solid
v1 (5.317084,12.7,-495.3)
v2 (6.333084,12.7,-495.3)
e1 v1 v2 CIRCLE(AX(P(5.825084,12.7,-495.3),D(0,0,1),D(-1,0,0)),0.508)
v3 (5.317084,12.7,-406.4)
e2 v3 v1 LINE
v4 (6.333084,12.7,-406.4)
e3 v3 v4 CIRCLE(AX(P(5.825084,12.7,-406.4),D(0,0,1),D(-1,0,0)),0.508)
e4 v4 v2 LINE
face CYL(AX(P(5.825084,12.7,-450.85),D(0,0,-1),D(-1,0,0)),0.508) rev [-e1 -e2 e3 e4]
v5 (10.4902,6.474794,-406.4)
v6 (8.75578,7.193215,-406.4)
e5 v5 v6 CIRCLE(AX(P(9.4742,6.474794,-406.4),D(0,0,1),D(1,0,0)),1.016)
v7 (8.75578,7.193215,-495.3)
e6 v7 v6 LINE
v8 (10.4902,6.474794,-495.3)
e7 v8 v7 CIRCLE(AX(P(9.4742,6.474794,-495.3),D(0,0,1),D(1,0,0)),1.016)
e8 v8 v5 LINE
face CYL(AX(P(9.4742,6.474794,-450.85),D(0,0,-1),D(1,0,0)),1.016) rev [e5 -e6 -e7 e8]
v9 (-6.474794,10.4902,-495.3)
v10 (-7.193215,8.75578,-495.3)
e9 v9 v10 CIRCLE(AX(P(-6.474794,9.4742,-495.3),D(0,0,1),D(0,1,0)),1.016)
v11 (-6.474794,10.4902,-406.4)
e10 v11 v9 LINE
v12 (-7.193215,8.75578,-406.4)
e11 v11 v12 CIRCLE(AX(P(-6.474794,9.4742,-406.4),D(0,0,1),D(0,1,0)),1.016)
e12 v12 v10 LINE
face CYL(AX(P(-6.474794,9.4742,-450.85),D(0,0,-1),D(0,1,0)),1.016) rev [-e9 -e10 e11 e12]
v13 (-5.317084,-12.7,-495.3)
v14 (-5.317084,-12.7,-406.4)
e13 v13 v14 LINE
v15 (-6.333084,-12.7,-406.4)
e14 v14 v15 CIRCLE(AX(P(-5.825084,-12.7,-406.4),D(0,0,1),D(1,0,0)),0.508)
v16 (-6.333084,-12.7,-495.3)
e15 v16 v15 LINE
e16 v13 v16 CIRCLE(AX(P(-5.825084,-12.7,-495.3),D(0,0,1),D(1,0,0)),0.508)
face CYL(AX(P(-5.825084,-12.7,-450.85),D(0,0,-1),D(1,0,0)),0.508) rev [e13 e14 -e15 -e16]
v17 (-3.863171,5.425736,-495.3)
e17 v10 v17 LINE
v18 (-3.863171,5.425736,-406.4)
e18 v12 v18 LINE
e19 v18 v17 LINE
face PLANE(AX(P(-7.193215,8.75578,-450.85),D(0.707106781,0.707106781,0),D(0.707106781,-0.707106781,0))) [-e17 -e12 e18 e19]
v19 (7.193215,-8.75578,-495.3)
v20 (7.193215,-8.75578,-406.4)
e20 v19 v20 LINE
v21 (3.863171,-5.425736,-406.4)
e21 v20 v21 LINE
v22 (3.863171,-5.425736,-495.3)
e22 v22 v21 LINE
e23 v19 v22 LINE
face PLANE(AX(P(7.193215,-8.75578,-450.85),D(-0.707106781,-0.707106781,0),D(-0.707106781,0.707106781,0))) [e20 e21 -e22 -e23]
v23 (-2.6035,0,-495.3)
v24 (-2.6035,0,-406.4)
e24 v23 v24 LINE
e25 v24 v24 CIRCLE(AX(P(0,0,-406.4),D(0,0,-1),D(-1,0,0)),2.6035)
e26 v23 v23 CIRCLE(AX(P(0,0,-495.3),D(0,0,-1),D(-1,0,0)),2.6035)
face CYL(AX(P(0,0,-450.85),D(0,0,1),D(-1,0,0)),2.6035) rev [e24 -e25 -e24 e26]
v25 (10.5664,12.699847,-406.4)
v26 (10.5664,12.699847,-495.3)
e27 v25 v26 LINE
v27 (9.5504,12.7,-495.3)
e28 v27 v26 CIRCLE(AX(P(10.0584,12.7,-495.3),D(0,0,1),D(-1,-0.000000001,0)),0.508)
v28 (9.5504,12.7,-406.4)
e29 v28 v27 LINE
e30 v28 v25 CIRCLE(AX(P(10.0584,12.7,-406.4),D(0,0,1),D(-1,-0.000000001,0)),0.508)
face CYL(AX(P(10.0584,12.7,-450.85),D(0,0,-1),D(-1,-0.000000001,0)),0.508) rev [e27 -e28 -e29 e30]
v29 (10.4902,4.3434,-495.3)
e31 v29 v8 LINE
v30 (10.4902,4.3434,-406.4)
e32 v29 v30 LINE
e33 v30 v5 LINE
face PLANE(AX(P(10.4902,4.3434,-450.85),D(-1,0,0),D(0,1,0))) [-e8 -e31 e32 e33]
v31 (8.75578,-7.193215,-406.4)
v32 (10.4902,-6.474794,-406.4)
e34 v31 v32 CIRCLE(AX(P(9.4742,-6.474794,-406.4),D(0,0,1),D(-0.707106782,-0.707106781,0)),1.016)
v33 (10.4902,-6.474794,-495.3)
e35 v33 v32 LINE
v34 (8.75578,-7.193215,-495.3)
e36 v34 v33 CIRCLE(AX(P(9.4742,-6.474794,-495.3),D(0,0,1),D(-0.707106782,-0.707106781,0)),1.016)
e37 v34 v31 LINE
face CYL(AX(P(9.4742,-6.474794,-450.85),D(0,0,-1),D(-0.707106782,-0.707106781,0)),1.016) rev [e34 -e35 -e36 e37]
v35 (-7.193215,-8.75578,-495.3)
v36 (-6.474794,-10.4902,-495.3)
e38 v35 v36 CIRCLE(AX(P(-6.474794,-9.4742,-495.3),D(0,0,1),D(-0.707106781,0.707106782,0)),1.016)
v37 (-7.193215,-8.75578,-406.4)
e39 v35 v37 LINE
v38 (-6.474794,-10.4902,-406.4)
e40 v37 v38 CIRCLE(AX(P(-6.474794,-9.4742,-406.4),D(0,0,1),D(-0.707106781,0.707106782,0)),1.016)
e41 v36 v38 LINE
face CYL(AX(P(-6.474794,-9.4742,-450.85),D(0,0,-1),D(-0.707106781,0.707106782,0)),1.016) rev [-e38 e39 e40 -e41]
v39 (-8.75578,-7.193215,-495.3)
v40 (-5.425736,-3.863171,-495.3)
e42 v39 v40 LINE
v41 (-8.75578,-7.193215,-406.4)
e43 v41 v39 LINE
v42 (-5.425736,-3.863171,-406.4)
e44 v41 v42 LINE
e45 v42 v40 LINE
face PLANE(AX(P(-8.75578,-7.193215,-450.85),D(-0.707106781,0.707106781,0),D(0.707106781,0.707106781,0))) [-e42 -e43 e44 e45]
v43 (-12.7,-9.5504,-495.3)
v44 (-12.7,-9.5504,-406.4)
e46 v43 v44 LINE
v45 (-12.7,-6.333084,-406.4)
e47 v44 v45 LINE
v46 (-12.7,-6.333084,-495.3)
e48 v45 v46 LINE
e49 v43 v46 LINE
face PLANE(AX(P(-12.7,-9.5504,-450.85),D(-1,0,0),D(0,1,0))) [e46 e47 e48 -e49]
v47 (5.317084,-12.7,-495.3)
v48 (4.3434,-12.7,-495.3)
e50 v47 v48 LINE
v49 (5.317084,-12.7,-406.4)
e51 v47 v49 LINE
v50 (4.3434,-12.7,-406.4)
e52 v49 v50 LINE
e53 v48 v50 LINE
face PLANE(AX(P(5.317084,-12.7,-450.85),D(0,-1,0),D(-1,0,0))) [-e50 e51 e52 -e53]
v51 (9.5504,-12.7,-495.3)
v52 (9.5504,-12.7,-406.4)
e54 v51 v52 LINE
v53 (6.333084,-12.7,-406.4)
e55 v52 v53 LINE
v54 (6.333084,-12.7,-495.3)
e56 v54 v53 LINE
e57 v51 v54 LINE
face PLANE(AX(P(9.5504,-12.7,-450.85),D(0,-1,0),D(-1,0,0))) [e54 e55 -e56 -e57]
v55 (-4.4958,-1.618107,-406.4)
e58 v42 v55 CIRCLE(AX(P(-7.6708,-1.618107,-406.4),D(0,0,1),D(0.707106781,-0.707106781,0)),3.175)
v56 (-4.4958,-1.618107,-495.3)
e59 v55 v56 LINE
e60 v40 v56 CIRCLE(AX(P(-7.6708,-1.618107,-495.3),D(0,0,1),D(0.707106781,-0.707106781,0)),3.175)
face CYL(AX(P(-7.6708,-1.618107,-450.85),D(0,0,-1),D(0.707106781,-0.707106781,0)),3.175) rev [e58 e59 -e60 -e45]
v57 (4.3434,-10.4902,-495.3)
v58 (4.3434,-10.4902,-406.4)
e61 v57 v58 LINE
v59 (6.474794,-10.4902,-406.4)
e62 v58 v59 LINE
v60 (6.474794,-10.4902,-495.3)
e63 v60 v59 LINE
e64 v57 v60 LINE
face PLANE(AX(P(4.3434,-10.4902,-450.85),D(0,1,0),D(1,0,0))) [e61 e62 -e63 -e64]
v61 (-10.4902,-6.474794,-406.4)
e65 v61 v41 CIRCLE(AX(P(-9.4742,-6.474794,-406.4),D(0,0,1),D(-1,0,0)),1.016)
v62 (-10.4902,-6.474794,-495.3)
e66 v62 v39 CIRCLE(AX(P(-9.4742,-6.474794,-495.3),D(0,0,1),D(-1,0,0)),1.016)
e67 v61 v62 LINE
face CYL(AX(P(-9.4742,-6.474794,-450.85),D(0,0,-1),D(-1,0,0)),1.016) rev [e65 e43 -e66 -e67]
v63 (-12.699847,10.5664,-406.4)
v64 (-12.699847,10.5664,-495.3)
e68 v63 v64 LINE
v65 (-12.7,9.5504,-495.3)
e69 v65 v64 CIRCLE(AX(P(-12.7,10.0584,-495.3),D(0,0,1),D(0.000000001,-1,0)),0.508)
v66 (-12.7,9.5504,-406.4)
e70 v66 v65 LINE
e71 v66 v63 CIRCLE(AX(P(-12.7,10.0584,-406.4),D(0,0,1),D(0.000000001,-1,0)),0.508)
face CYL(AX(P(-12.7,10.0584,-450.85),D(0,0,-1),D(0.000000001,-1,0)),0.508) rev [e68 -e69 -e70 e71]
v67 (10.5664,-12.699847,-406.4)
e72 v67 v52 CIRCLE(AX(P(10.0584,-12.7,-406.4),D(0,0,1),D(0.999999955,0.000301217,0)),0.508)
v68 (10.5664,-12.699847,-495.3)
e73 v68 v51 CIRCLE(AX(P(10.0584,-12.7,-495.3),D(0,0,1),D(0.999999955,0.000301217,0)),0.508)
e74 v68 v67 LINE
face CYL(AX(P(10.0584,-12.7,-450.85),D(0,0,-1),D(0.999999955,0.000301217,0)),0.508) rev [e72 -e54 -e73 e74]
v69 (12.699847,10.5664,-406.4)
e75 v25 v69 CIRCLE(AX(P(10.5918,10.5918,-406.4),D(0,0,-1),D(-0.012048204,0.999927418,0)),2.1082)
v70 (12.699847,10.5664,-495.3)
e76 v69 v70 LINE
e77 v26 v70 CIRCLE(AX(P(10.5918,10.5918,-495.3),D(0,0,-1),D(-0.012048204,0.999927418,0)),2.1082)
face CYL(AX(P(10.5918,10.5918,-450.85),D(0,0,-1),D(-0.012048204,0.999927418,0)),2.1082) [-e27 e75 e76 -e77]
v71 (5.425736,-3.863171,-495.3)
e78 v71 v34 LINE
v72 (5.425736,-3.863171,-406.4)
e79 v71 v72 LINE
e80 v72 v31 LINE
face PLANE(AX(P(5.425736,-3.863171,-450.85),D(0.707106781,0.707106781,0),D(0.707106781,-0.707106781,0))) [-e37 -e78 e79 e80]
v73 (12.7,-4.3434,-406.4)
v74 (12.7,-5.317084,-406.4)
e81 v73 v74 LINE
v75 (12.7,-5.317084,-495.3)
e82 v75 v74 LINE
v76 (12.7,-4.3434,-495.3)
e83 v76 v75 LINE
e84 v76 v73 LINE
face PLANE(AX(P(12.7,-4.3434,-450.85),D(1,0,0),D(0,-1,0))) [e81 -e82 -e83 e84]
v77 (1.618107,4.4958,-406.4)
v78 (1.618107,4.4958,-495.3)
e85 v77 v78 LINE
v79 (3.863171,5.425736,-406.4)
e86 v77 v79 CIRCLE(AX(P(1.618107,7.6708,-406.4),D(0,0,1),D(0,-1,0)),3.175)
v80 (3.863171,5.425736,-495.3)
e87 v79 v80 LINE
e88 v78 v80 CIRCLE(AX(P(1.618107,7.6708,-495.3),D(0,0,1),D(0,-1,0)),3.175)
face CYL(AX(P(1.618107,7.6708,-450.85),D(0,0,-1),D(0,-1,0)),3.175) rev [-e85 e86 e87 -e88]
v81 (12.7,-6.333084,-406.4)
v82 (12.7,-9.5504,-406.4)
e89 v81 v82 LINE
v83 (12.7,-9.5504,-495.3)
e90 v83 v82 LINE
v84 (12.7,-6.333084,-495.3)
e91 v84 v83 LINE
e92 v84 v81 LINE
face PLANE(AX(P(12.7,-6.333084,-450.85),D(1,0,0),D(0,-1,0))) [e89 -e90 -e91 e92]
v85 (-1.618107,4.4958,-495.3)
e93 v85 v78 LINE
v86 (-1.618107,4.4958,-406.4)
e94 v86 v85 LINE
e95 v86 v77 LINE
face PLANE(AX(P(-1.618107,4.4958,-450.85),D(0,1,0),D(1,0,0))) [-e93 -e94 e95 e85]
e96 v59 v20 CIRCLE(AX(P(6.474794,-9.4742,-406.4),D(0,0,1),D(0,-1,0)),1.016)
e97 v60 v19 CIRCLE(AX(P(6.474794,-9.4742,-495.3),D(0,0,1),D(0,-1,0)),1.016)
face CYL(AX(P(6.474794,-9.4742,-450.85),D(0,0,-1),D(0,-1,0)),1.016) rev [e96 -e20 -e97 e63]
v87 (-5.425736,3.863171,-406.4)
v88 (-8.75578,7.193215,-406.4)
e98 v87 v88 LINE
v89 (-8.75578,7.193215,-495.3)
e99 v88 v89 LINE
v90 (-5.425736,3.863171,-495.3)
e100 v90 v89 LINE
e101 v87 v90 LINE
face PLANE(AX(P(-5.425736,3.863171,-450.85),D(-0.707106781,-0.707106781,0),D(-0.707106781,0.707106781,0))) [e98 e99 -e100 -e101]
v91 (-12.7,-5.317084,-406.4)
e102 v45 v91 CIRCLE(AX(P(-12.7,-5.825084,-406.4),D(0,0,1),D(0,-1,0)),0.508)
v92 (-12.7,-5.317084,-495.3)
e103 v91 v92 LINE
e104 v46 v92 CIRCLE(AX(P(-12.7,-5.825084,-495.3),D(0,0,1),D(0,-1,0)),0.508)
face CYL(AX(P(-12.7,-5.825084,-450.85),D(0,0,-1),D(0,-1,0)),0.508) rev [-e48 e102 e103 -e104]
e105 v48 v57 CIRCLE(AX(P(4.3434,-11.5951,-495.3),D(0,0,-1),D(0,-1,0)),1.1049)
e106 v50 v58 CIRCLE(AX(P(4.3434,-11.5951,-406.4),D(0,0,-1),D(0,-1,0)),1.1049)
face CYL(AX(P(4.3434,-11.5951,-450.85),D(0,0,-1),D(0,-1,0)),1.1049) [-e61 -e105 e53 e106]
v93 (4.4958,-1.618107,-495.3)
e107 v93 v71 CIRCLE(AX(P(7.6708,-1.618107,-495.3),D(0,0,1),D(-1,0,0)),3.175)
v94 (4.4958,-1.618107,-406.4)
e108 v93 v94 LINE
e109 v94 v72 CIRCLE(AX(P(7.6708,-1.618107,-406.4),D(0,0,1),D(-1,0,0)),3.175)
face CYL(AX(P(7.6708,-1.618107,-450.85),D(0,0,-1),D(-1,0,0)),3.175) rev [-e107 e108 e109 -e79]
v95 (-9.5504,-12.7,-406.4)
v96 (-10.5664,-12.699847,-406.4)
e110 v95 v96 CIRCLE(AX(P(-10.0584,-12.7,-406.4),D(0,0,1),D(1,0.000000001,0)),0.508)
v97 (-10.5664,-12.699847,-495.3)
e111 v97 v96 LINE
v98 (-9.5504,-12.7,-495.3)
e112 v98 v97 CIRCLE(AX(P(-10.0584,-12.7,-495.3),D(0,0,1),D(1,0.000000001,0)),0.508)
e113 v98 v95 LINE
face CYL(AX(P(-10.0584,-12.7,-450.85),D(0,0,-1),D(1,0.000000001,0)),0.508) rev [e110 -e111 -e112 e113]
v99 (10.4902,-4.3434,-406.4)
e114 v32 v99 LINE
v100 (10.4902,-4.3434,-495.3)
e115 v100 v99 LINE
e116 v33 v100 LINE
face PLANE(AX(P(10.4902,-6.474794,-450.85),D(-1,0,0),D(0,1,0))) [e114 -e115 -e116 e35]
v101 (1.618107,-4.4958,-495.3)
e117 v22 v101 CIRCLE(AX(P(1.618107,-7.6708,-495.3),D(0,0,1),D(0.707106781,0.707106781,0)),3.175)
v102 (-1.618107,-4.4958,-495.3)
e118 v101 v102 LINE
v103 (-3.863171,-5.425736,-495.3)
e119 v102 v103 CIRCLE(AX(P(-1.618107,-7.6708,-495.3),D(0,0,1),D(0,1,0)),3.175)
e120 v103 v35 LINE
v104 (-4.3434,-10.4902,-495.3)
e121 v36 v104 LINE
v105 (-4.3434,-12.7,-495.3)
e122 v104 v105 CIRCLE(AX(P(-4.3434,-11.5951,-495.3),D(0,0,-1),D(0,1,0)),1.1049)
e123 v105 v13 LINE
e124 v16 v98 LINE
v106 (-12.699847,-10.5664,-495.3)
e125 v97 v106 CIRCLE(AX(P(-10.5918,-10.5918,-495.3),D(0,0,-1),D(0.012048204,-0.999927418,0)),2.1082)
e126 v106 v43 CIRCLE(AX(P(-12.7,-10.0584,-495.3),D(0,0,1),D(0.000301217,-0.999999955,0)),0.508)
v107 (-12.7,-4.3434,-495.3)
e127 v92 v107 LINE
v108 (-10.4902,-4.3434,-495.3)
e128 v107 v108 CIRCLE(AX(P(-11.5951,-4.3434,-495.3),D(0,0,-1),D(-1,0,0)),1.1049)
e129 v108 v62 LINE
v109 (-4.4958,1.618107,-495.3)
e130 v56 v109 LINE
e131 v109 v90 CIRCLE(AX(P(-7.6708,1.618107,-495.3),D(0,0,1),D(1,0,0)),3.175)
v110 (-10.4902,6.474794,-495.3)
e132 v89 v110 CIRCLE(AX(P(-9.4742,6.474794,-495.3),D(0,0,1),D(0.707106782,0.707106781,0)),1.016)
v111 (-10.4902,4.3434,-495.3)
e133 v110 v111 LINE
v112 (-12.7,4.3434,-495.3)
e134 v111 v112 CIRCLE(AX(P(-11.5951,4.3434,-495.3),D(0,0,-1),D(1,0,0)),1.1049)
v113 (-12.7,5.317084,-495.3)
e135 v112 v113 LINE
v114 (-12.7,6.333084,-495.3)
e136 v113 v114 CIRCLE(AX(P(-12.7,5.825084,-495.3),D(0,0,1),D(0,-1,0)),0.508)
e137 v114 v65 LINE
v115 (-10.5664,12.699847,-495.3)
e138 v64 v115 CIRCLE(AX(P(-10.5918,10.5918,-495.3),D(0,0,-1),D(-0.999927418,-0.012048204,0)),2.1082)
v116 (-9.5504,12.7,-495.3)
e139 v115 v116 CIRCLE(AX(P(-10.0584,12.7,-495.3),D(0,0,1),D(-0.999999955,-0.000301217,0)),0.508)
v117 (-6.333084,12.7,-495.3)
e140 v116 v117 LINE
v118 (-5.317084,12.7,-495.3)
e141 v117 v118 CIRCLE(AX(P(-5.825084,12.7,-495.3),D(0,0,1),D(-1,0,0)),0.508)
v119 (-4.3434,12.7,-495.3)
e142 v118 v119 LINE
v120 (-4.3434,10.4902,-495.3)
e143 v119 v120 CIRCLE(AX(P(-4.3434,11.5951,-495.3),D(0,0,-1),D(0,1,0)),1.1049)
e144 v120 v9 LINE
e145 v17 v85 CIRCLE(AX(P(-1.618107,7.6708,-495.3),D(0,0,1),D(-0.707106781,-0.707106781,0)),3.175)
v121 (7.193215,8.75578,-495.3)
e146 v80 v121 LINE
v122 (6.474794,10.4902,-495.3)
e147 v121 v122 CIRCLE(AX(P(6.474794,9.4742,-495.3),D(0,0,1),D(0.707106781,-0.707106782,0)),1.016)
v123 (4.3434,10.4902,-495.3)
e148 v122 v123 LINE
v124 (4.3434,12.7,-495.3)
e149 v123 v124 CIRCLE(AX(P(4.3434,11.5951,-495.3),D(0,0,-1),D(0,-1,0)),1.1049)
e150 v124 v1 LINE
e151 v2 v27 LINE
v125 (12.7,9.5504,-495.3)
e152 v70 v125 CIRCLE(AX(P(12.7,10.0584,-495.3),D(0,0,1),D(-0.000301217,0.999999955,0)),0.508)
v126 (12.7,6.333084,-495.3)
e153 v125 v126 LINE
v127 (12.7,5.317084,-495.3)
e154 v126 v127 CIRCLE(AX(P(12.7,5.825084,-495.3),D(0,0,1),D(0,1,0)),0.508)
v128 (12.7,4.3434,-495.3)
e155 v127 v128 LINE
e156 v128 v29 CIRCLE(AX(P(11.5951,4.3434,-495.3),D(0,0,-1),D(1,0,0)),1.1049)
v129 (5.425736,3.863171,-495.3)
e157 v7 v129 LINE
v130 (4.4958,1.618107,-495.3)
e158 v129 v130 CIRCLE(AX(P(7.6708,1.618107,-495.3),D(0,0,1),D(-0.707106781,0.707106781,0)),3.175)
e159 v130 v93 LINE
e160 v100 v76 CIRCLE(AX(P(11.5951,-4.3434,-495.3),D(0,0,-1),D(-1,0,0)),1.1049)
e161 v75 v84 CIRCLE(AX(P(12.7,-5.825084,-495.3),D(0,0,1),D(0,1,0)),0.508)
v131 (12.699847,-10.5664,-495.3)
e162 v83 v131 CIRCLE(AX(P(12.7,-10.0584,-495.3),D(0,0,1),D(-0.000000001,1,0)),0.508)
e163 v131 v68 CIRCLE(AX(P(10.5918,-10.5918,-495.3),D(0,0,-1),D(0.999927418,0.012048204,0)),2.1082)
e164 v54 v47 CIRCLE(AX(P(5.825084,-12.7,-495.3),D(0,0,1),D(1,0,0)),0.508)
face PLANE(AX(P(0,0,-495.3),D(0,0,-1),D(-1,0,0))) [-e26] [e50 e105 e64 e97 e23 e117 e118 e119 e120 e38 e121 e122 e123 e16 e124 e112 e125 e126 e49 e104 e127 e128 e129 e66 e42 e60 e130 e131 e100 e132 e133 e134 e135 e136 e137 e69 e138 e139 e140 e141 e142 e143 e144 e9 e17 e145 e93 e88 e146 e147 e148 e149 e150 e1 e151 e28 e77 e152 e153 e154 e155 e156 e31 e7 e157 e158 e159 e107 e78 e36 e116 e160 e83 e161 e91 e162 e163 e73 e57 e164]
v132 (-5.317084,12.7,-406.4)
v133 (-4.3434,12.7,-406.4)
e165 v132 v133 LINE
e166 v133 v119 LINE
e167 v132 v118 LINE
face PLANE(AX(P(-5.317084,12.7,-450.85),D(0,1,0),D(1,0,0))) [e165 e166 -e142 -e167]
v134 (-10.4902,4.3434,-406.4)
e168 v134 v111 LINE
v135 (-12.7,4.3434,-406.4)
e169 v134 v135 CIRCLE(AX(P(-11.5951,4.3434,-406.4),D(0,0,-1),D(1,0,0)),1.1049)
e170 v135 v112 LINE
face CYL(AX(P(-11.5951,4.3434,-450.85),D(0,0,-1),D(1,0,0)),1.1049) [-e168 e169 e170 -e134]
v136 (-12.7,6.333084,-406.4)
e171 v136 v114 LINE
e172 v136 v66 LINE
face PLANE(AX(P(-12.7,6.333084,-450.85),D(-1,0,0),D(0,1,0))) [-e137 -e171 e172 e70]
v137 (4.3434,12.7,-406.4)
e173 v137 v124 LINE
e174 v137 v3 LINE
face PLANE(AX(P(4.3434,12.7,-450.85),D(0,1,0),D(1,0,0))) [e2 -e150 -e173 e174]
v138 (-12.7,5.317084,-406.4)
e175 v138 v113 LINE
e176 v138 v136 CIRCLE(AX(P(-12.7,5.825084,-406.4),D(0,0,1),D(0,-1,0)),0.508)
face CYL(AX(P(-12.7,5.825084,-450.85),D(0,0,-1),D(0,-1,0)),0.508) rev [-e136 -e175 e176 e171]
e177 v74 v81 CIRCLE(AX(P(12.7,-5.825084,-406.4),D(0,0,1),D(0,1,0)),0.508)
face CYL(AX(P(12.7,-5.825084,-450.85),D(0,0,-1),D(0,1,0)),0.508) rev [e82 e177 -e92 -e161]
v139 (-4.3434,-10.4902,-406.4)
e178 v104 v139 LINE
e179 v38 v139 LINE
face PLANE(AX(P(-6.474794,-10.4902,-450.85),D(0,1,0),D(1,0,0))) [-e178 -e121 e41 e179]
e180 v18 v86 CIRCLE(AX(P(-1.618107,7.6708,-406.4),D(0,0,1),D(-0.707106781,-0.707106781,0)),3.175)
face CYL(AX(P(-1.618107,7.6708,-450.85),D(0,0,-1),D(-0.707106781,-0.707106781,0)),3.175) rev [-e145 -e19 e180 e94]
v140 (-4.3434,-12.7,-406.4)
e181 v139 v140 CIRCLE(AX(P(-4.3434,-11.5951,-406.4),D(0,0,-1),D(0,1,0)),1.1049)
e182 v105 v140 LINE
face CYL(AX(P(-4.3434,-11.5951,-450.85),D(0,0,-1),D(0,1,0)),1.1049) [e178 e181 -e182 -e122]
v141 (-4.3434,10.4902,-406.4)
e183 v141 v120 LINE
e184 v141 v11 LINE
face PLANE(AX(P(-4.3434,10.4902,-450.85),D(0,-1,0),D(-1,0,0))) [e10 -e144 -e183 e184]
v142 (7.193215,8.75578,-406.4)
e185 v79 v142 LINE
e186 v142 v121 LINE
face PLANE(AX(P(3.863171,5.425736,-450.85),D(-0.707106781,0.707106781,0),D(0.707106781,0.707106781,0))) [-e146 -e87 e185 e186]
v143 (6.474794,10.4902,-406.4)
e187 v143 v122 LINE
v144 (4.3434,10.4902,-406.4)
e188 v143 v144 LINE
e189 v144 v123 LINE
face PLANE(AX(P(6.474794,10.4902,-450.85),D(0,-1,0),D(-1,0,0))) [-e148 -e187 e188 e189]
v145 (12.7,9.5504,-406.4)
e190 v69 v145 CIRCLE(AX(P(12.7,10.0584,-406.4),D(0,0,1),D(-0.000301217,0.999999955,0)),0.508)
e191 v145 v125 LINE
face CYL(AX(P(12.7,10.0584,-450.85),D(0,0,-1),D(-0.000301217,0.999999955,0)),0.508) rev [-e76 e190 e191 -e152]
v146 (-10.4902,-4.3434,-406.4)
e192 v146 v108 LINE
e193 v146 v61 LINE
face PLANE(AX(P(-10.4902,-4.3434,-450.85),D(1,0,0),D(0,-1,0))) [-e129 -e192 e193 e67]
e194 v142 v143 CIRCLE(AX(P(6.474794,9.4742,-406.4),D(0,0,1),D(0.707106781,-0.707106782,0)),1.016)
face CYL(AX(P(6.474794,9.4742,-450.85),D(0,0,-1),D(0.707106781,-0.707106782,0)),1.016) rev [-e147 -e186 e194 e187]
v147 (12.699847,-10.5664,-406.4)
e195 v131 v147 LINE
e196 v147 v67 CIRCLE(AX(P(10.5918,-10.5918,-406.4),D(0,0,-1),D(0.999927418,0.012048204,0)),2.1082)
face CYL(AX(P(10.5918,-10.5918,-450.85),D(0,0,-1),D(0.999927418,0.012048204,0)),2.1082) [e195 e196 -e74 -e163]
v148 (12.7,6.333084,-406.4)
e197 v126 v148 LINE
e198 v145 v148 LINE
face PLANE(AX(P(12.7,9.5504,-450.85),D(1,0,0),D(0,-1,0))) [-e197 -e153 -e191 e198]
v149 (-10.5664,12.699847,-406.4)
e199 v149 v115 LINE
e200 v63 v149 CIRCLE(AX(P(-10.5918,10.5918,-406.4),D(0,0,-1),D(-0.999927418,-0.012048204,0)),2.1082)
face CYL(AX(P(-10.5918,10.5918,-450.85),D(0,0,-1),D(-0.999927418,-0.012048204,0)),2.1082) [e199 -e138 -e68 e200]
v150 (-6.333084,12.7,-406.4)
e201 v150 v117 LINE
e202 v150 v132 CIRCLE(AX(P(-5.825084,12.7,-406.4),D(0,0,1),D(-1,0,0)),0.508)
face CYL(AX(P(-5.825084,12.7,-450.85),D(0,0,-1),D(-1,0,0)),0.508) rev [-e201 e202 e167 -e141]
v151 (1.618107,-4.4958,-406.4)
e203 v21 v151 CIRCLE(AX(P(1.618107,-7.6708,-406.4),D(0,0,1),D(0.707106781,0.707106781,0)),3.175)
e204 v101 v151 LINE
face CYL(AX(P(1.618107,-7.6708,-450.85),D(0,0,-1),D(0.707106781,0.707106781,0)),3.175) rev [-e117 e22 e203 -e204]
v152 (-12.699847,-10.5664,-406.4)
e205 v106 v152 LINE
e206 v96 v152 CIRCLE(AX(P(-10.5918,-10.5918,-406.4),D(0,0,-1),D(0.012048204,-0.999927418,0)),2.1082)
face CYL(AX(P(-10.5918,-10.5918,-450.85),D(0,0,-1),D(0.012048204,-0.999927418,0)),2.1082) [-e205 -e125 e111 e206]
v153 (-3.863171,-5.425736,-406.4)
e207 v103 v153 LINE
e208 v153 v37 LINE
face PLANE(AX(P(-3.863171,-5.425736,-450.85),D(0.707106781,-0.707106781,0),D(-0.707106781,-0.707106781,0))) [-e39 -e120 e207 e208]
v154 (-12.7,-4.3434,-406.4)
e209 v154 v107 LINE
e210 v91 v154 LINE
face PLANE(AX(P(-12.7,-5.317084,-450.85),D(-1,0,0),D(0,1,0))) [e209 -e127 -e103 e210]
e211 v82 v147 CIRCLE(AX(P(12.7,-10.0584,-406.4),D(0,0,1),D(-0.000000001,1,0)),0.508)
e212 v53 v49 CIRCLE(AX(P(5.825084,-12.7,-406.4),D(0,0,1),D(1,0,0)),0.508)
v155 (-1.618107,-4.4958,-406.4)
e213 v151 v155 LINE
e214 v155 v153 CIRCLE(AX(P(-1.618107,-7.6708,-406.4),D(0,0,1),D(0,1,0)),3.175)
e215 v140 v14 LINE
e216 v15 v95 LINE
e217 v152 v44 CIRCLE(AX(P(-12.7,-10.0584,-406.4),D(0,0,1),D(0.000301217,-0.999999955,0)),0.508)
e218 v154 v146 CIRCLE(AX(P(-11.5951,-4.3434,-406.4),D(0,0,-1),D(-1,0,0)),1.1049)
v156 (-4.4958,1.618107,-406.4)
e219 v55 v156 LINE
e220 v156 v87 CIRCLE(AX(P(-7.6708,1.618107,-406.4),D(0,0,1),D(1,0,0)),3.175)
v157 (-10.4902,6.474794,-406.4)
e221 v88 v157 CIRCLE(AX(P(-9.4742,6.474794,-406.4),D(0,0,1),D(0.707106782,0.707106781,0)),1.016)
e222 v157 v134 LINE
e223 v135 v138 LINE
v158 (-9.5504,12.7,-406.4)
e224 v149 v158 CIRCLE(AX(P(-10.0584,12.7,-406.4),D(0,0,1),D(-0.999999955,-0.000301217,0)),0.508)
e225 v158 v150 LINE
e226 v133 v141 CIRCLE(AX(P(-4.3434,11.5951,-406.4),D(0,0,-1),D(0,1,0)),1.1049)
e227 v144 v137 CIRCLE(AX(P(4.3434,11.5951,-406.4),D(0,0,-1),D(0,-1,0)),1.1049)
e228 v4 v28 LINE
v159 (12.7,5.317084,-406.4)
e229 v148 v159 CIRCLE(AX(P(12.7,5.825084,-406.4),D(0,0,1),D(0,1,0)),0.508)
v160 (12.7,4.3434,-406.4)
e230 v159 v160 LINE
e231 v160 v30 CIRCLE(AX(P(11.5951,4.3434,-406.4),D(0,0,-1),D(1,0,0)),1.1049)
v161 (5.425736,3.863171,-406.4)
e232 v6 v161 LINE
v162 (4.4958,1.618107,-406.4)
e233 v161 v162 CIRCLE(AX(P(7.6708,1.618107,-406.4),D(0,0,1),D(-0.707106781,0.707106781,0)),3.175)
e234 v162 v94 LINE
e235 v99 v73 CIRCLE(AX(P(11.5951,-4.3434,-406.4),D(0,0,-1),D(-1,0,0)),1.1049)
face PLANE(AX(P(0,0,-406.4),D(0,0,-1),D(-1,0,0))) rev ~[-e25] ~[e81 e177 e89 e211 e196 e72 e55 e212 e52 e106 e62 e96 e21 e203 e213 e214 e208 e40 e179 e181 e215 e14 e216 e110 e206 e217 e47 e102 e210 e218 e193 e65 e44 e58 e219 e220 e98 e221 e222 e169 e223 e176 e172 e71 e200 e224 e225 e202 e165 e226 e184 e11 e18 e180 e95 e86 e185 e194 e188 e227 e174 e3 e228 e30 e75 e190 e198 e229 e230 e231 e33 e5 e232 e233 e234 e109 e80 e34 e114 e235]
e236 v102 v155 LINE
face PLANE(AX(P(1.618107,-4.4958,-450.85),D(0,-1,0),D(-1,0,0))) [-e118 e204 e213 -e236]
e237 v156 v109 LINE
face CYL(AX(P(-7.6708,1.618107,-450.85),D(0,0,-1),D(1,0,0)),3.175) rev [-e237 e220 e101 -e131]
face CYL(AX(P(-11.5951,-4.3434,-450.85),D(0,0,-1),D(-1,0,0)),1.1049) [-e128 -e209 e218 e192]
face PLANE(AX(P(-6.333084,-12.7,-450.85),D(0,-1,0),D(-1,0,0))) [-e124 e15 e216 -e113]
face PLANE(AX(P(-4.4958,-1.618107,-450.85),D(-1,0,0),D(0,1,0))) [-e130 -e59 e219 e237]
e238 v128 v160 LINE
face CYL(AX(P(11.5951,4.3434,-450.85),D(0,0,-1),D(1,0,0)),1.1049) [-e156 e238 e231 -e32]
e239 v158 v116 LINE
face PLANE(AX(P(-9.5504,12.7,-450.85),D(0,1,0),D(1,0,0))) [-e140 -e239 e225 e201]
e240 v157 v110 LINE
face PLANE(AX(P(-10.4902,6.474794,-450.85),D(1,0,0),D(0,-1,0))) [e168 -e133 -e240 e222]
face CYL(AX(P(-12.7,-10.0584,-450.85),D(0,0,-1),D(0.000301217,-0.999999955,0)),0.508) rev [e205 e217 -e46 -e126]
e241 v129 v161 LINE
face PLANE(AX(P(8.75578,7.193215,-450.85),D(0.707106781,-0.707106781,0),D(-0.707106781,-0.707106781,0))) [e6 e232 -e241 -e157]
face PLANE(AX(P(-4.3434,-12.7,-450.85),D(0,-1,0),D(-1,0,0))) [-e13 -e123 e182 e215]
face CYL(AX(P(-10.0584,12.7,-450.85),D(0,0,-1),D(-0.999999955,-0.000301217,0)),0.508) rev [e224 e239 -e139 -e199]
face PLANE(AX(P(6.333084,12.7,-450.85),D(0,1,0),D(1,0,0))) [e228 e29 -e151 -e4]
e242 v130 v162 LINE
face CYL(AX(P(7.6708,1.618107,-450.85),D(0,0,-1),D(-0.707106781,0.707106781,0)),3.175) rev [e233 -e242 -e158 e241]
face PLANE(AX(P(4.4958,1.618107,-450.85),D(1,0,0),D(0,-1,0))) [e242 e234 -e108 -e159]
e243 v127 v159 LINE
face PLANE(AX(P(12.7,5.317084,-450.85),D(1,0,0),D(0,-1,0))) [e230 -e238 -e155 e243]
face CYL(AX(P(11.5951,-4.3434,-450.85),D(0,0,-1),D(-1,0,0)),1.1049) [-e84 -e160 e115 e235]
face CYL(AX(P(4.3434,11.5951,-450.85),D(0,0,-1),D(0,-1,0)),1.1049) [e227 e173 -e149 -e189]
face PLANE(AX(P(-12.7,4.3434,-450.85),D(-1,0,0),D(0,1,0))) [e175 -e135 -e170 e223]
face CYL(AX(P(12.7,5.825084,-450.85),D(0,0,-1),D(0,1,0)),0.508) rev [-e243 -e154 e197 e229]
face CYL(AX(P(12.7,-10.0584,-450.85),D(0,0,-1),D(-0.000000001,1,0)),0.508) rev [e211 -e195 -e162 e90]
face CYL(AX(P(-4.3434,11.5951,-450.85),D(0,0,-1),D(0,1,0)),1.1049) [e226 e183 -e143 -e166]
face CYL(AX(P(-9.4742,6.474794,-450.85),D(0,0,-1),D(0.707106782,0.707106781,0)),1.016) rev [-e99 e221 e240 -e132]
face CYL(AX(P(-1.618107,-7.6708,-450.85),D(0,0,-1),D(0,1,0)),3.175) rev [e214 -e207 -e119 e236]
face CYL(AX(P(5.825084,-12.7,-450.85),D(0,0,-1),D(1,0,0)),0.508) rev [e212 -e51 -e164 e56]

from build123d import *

# Parameters (mm, degrees)
SKETCH1_R           = 2.6035
BOSS_EXTRUDE1_DEPTH = 44.45


with BuildPart() as part:
    # Sketch1 → Boss-Extrude1 (new body, symmetric)
    with BuildSketch(Plane(origin=(0, 0, -450.85), x_dir=(-1, 0, 0), z_dir=(0, 0, -1))):
        with BuildLine():
            Line((12.7, -9.5504), (12.7, -6.3330836))
            ThreePointArc((12.7, -6.3330836), (12.192, -5.8250836), (12.7, -5.3170836))
            Line((12.7, -5.3170836), (12.7, -4.3434))
            ThreePointArc((12.7, -4.3434), (11.5951, -3.2385), (10.4902, -4.3434))
            Line((10.4902, -4.3434), (10.4902, -6.474794456))
            ThreePointArc((10.4902, -6.474794456), (9.863006367, -7.413456061), (8.75577951, -7.193214945))
            Line((8.75577951, -7.193214945), (5.42573597, -3.863171405))
            ThreePointArc((5.42573597, -3.863171405), (4.737482484, -2.833127272), (4.4958, -1.618107374))
            Line((4.4958, -1.618107374), (4.4958, 1.618107374))
            ThreePointArc((4.4958, 1.618107374), (4.737482484, 2.833127272), (5.42573597, 3.863171405))
            Line((5.42573597, 3.863171405), (8.75577951, 7.193214945))
            ThreePointArc((8.75577951, 7.193214945), (9.863006367, 7.413456061), (10.4902, 6.474794456))
            Line((10.4902, 6.474794456), (10.4902, 4.343399971))
            ThreePointArc((10.4902, 4.343399971), (11.5951, 3.238499971), (12.7, 4.343399971))
            Line((12.7, 4.343399971), (12.7, 5.3170836))
            ThreePointArc((12.7, 5.3170836), (12.192, 5.8250836), (12.7, 6.3330836))
            Line((12.7, 6.3330836), (12.7, 9.5504))
            ThreePointArc((12.7, 9.5504), (12.192000006, 10.058323491), (12.699846982, 10.566399977))
            ThreePointArc((12.699846982, 10.566399977), (12.082522516, 12.082522516), (10.566399977, 12.699846982))
            ThreePointArc((10.566399977, 12.699846982), (10.058323491, 12.192000006), (9.5504, 12.7))
            Line((9.5504, 12.7), (6.3330836, 12.7))
            ThreePointArc((6.3330836, 12.7), (5.8250836, 12.192), (5.3170836, 12.7))
            Line((5.3170836, 12.7), (4.3434, 12.7))
            ThreePointArc((4.3434, 12.7), (3.2385, 11.5951), (4.3434, 10.4902))
            Line((4.3434, 10.4902), (6.474794456, 10.4902))
            ThreePointArc((6.474794456, 10.4902), (7.413456061, 9.863006367), (7.193214945, 8.75577951))
            Line((7.193214945, 8.75577951), (3.863171405, 5.42573597))
            ThreePointArc((3.863171405, 5.42573597), (2.833127272, 4.737482484), (1.618107374, 4.4958))
            Line((1.618107374, 4.4958), (-1.618107374, 4.4958))
            ThreePointArc((-1.618107374, 4.4958), (-2.833127272, 4.737482484), (-3.863171405, 5.42573597))
            Line((-3.863171405, 5.42573597), (-7.193214945, 8.75577951))
            ThreePointArc((-7.193214945, 8.75577951), (-7.413456061, 9.863006367), (-6.474794456, 10.4902))
            Line((-6.474794456, 10.4902), (-4.343399971, 10.4902))
            ThreePointArc((-4.343399971, 10.4902), (-3.238499971, 11.5951), (-4.343399971, 12.7))
            Line((-4.343399971, 12.7), (-5.3170836, 12.7))
            ThreePointArc((-5.3170836, 12.7), (-5.8250836, 12.192), (-6.3330836, 12.7))
            Line((-6.3330836, 12.7), (-9.5504, 12.7))
            ThreePointArc((-9.5504, 12.7), (-10.058323491, 12.192000006), (-10.566399977, 12.699846982))
            ThreePointArc((-10.566399977, 12.699846982), (-12.082522516, 12.082522516), (-12.699846982, 10.566399977))
            ThreePointArc((-12.699846982, 10.566399977), (-12.192000006, 10.058323491), (-12.7, 9.5504))
            Line((-12.7, 9.5504), (-12.7, 6.3330836))
            ThreePointArc((-12.7, 6.3330836), (-12.192, 5.8250836), (-12.7, 5.3170836))
            Line((-12.7, 5.3170836), (-12.7, 4.3434))
            ThreePointArc((-12.7, 4.3434), (-11.5951, 3.2385), (-10.4902, 4.3434))
            Line((-10.4902, 4.3434), (-10.4902, 6.474794456))
            ThreePointArc((-10.4902, 6.474794456), (-9.863006367, 7.413456061), (-8.75577951, 7.193214945))
            Line((-8.75577951, 7.193214945), (-5.42573597, 3.863171405))
            ThreePointArc((-5.42573597, 3.863171405), (-4.737482484, 2.833127272), (-4.4958, 1.618107374))
            Line((-4.4958, 1.618107374), (-4.4958, -1.618107374))
            ThreePointArc((-4.4958, -1.618107374), (-4.737482484, -2.833127272), (-5.42573597, -3.863171405))
            Line((-5.42573597, -3.863171405), (-8.75577951, -7.193214945))
            ThreePointArc((-8.75577951, -7.193214945), (-9.863006367, -7.413456061), (-10.4902, -6.474794456))
            Line((-10.4902, -6.474794456), (-10.4902, -4.343399971))
            ThreePointArc((-10.4902, -4.343399971), (-11.5951, -3.238499971), (-12.7, -4.343399971))
            Line((-12.7, -4.343399971), (-12.7, -5.3170836))
            ThreePointArc((-12.7, -5.3170836), (-12.192, -5.8250836), (-12.7, -6.3330836))
            Line((-12.7, -6.3330836), (-12.7, -9.5504))
            ThreePointArc((-12.7, -9.5504), (-12.192000006, -10.058323491), (-12.699846982, -10.566399977))
            ThreePointArc((-12.699846982, -10.566399977), (-12.082522516, -12.082522516), (-10.566399977, -12.699846982))
            ThreePointArc((-10.566399977, -12.699846982), (-10.058323491, -12.192000006), (-9.5504, -12.7))
            Line((-9.5504, -12.7), (-6.3330836, -12.7))
            ThreePointArc((-6.3330836, -12.7), (-5.8250836, -12.192), (-5.3170836, -12.7))
            Line((-5.3170836, -12.7), (-4.3434, -12.7))
            ThreePointArc((-4.3434, -12.7), (-3.2385, -11.5951), (-4.3434, -10.4902))
            Line((-4.3434, -10.4902), (-6.474794456, -10.4902))
            ThreePointArc((-6.474794456, -10.4902), (-7.413456061, -9.863006367), (-7.193214945, -8.75577951))
            Line((-7.193214945, -8.75577951), (-3.863171405, -5.42573597))
            ThreePointArc((-3.863171405, -5.42573597), (-2.833127272, -4.737482484), (-1.618107374, -4.4958))
            Line((-1.618107374, -4.4958), (1.618107374, -4.4958))
            ThreePointArc((1.618107374, -4.4958), (2.833127272, -4.737482484), (3.863171405, -5.42573597))
            Line((3.863171405, -5.42573597), (7.193214945, -8.75577951))
            ThreePointArc((7.193214945, -8.75577951), (7.413456061, -9.863006367), (6.474794456, -10.4902))
            Line((6.474794456, -10.4902), (4.343399971, -10.4902))
            ThreePointArc((4.343399971, -10.4902), (3.238499971, -11.5951), (4.343399971, -12.7))
            Line((4.343399971, -12.7), (5.3170836, -12.7))
            ThreePointArc((5.3170836, -12.7), (5.8250836, -12.192), (6.3330836, -12.7))
            Line((6.3330836, -12.7), (9.5504, -12.7))
            ThreePointArc((9.5504, -12.7), (10.058323491, -12.192000006), (10.566399977, -12.699846982))
            ThreePointArc((10.566399977, -12.699846982), (12.082522516, -12.082522516), (12.699846982, -10.566399977))
            ThreePointArc((12.699846982, -10.566399977), (12.192000006, -10.058323491), (12.7, -9.5504))
        make_face()
        Circle(SKETCH1_R, mode=Mode.SUBTRACT)
    extrude(amount=BOSS_EXTRUDE1_DEPTH, both=True)


solid = part.part
